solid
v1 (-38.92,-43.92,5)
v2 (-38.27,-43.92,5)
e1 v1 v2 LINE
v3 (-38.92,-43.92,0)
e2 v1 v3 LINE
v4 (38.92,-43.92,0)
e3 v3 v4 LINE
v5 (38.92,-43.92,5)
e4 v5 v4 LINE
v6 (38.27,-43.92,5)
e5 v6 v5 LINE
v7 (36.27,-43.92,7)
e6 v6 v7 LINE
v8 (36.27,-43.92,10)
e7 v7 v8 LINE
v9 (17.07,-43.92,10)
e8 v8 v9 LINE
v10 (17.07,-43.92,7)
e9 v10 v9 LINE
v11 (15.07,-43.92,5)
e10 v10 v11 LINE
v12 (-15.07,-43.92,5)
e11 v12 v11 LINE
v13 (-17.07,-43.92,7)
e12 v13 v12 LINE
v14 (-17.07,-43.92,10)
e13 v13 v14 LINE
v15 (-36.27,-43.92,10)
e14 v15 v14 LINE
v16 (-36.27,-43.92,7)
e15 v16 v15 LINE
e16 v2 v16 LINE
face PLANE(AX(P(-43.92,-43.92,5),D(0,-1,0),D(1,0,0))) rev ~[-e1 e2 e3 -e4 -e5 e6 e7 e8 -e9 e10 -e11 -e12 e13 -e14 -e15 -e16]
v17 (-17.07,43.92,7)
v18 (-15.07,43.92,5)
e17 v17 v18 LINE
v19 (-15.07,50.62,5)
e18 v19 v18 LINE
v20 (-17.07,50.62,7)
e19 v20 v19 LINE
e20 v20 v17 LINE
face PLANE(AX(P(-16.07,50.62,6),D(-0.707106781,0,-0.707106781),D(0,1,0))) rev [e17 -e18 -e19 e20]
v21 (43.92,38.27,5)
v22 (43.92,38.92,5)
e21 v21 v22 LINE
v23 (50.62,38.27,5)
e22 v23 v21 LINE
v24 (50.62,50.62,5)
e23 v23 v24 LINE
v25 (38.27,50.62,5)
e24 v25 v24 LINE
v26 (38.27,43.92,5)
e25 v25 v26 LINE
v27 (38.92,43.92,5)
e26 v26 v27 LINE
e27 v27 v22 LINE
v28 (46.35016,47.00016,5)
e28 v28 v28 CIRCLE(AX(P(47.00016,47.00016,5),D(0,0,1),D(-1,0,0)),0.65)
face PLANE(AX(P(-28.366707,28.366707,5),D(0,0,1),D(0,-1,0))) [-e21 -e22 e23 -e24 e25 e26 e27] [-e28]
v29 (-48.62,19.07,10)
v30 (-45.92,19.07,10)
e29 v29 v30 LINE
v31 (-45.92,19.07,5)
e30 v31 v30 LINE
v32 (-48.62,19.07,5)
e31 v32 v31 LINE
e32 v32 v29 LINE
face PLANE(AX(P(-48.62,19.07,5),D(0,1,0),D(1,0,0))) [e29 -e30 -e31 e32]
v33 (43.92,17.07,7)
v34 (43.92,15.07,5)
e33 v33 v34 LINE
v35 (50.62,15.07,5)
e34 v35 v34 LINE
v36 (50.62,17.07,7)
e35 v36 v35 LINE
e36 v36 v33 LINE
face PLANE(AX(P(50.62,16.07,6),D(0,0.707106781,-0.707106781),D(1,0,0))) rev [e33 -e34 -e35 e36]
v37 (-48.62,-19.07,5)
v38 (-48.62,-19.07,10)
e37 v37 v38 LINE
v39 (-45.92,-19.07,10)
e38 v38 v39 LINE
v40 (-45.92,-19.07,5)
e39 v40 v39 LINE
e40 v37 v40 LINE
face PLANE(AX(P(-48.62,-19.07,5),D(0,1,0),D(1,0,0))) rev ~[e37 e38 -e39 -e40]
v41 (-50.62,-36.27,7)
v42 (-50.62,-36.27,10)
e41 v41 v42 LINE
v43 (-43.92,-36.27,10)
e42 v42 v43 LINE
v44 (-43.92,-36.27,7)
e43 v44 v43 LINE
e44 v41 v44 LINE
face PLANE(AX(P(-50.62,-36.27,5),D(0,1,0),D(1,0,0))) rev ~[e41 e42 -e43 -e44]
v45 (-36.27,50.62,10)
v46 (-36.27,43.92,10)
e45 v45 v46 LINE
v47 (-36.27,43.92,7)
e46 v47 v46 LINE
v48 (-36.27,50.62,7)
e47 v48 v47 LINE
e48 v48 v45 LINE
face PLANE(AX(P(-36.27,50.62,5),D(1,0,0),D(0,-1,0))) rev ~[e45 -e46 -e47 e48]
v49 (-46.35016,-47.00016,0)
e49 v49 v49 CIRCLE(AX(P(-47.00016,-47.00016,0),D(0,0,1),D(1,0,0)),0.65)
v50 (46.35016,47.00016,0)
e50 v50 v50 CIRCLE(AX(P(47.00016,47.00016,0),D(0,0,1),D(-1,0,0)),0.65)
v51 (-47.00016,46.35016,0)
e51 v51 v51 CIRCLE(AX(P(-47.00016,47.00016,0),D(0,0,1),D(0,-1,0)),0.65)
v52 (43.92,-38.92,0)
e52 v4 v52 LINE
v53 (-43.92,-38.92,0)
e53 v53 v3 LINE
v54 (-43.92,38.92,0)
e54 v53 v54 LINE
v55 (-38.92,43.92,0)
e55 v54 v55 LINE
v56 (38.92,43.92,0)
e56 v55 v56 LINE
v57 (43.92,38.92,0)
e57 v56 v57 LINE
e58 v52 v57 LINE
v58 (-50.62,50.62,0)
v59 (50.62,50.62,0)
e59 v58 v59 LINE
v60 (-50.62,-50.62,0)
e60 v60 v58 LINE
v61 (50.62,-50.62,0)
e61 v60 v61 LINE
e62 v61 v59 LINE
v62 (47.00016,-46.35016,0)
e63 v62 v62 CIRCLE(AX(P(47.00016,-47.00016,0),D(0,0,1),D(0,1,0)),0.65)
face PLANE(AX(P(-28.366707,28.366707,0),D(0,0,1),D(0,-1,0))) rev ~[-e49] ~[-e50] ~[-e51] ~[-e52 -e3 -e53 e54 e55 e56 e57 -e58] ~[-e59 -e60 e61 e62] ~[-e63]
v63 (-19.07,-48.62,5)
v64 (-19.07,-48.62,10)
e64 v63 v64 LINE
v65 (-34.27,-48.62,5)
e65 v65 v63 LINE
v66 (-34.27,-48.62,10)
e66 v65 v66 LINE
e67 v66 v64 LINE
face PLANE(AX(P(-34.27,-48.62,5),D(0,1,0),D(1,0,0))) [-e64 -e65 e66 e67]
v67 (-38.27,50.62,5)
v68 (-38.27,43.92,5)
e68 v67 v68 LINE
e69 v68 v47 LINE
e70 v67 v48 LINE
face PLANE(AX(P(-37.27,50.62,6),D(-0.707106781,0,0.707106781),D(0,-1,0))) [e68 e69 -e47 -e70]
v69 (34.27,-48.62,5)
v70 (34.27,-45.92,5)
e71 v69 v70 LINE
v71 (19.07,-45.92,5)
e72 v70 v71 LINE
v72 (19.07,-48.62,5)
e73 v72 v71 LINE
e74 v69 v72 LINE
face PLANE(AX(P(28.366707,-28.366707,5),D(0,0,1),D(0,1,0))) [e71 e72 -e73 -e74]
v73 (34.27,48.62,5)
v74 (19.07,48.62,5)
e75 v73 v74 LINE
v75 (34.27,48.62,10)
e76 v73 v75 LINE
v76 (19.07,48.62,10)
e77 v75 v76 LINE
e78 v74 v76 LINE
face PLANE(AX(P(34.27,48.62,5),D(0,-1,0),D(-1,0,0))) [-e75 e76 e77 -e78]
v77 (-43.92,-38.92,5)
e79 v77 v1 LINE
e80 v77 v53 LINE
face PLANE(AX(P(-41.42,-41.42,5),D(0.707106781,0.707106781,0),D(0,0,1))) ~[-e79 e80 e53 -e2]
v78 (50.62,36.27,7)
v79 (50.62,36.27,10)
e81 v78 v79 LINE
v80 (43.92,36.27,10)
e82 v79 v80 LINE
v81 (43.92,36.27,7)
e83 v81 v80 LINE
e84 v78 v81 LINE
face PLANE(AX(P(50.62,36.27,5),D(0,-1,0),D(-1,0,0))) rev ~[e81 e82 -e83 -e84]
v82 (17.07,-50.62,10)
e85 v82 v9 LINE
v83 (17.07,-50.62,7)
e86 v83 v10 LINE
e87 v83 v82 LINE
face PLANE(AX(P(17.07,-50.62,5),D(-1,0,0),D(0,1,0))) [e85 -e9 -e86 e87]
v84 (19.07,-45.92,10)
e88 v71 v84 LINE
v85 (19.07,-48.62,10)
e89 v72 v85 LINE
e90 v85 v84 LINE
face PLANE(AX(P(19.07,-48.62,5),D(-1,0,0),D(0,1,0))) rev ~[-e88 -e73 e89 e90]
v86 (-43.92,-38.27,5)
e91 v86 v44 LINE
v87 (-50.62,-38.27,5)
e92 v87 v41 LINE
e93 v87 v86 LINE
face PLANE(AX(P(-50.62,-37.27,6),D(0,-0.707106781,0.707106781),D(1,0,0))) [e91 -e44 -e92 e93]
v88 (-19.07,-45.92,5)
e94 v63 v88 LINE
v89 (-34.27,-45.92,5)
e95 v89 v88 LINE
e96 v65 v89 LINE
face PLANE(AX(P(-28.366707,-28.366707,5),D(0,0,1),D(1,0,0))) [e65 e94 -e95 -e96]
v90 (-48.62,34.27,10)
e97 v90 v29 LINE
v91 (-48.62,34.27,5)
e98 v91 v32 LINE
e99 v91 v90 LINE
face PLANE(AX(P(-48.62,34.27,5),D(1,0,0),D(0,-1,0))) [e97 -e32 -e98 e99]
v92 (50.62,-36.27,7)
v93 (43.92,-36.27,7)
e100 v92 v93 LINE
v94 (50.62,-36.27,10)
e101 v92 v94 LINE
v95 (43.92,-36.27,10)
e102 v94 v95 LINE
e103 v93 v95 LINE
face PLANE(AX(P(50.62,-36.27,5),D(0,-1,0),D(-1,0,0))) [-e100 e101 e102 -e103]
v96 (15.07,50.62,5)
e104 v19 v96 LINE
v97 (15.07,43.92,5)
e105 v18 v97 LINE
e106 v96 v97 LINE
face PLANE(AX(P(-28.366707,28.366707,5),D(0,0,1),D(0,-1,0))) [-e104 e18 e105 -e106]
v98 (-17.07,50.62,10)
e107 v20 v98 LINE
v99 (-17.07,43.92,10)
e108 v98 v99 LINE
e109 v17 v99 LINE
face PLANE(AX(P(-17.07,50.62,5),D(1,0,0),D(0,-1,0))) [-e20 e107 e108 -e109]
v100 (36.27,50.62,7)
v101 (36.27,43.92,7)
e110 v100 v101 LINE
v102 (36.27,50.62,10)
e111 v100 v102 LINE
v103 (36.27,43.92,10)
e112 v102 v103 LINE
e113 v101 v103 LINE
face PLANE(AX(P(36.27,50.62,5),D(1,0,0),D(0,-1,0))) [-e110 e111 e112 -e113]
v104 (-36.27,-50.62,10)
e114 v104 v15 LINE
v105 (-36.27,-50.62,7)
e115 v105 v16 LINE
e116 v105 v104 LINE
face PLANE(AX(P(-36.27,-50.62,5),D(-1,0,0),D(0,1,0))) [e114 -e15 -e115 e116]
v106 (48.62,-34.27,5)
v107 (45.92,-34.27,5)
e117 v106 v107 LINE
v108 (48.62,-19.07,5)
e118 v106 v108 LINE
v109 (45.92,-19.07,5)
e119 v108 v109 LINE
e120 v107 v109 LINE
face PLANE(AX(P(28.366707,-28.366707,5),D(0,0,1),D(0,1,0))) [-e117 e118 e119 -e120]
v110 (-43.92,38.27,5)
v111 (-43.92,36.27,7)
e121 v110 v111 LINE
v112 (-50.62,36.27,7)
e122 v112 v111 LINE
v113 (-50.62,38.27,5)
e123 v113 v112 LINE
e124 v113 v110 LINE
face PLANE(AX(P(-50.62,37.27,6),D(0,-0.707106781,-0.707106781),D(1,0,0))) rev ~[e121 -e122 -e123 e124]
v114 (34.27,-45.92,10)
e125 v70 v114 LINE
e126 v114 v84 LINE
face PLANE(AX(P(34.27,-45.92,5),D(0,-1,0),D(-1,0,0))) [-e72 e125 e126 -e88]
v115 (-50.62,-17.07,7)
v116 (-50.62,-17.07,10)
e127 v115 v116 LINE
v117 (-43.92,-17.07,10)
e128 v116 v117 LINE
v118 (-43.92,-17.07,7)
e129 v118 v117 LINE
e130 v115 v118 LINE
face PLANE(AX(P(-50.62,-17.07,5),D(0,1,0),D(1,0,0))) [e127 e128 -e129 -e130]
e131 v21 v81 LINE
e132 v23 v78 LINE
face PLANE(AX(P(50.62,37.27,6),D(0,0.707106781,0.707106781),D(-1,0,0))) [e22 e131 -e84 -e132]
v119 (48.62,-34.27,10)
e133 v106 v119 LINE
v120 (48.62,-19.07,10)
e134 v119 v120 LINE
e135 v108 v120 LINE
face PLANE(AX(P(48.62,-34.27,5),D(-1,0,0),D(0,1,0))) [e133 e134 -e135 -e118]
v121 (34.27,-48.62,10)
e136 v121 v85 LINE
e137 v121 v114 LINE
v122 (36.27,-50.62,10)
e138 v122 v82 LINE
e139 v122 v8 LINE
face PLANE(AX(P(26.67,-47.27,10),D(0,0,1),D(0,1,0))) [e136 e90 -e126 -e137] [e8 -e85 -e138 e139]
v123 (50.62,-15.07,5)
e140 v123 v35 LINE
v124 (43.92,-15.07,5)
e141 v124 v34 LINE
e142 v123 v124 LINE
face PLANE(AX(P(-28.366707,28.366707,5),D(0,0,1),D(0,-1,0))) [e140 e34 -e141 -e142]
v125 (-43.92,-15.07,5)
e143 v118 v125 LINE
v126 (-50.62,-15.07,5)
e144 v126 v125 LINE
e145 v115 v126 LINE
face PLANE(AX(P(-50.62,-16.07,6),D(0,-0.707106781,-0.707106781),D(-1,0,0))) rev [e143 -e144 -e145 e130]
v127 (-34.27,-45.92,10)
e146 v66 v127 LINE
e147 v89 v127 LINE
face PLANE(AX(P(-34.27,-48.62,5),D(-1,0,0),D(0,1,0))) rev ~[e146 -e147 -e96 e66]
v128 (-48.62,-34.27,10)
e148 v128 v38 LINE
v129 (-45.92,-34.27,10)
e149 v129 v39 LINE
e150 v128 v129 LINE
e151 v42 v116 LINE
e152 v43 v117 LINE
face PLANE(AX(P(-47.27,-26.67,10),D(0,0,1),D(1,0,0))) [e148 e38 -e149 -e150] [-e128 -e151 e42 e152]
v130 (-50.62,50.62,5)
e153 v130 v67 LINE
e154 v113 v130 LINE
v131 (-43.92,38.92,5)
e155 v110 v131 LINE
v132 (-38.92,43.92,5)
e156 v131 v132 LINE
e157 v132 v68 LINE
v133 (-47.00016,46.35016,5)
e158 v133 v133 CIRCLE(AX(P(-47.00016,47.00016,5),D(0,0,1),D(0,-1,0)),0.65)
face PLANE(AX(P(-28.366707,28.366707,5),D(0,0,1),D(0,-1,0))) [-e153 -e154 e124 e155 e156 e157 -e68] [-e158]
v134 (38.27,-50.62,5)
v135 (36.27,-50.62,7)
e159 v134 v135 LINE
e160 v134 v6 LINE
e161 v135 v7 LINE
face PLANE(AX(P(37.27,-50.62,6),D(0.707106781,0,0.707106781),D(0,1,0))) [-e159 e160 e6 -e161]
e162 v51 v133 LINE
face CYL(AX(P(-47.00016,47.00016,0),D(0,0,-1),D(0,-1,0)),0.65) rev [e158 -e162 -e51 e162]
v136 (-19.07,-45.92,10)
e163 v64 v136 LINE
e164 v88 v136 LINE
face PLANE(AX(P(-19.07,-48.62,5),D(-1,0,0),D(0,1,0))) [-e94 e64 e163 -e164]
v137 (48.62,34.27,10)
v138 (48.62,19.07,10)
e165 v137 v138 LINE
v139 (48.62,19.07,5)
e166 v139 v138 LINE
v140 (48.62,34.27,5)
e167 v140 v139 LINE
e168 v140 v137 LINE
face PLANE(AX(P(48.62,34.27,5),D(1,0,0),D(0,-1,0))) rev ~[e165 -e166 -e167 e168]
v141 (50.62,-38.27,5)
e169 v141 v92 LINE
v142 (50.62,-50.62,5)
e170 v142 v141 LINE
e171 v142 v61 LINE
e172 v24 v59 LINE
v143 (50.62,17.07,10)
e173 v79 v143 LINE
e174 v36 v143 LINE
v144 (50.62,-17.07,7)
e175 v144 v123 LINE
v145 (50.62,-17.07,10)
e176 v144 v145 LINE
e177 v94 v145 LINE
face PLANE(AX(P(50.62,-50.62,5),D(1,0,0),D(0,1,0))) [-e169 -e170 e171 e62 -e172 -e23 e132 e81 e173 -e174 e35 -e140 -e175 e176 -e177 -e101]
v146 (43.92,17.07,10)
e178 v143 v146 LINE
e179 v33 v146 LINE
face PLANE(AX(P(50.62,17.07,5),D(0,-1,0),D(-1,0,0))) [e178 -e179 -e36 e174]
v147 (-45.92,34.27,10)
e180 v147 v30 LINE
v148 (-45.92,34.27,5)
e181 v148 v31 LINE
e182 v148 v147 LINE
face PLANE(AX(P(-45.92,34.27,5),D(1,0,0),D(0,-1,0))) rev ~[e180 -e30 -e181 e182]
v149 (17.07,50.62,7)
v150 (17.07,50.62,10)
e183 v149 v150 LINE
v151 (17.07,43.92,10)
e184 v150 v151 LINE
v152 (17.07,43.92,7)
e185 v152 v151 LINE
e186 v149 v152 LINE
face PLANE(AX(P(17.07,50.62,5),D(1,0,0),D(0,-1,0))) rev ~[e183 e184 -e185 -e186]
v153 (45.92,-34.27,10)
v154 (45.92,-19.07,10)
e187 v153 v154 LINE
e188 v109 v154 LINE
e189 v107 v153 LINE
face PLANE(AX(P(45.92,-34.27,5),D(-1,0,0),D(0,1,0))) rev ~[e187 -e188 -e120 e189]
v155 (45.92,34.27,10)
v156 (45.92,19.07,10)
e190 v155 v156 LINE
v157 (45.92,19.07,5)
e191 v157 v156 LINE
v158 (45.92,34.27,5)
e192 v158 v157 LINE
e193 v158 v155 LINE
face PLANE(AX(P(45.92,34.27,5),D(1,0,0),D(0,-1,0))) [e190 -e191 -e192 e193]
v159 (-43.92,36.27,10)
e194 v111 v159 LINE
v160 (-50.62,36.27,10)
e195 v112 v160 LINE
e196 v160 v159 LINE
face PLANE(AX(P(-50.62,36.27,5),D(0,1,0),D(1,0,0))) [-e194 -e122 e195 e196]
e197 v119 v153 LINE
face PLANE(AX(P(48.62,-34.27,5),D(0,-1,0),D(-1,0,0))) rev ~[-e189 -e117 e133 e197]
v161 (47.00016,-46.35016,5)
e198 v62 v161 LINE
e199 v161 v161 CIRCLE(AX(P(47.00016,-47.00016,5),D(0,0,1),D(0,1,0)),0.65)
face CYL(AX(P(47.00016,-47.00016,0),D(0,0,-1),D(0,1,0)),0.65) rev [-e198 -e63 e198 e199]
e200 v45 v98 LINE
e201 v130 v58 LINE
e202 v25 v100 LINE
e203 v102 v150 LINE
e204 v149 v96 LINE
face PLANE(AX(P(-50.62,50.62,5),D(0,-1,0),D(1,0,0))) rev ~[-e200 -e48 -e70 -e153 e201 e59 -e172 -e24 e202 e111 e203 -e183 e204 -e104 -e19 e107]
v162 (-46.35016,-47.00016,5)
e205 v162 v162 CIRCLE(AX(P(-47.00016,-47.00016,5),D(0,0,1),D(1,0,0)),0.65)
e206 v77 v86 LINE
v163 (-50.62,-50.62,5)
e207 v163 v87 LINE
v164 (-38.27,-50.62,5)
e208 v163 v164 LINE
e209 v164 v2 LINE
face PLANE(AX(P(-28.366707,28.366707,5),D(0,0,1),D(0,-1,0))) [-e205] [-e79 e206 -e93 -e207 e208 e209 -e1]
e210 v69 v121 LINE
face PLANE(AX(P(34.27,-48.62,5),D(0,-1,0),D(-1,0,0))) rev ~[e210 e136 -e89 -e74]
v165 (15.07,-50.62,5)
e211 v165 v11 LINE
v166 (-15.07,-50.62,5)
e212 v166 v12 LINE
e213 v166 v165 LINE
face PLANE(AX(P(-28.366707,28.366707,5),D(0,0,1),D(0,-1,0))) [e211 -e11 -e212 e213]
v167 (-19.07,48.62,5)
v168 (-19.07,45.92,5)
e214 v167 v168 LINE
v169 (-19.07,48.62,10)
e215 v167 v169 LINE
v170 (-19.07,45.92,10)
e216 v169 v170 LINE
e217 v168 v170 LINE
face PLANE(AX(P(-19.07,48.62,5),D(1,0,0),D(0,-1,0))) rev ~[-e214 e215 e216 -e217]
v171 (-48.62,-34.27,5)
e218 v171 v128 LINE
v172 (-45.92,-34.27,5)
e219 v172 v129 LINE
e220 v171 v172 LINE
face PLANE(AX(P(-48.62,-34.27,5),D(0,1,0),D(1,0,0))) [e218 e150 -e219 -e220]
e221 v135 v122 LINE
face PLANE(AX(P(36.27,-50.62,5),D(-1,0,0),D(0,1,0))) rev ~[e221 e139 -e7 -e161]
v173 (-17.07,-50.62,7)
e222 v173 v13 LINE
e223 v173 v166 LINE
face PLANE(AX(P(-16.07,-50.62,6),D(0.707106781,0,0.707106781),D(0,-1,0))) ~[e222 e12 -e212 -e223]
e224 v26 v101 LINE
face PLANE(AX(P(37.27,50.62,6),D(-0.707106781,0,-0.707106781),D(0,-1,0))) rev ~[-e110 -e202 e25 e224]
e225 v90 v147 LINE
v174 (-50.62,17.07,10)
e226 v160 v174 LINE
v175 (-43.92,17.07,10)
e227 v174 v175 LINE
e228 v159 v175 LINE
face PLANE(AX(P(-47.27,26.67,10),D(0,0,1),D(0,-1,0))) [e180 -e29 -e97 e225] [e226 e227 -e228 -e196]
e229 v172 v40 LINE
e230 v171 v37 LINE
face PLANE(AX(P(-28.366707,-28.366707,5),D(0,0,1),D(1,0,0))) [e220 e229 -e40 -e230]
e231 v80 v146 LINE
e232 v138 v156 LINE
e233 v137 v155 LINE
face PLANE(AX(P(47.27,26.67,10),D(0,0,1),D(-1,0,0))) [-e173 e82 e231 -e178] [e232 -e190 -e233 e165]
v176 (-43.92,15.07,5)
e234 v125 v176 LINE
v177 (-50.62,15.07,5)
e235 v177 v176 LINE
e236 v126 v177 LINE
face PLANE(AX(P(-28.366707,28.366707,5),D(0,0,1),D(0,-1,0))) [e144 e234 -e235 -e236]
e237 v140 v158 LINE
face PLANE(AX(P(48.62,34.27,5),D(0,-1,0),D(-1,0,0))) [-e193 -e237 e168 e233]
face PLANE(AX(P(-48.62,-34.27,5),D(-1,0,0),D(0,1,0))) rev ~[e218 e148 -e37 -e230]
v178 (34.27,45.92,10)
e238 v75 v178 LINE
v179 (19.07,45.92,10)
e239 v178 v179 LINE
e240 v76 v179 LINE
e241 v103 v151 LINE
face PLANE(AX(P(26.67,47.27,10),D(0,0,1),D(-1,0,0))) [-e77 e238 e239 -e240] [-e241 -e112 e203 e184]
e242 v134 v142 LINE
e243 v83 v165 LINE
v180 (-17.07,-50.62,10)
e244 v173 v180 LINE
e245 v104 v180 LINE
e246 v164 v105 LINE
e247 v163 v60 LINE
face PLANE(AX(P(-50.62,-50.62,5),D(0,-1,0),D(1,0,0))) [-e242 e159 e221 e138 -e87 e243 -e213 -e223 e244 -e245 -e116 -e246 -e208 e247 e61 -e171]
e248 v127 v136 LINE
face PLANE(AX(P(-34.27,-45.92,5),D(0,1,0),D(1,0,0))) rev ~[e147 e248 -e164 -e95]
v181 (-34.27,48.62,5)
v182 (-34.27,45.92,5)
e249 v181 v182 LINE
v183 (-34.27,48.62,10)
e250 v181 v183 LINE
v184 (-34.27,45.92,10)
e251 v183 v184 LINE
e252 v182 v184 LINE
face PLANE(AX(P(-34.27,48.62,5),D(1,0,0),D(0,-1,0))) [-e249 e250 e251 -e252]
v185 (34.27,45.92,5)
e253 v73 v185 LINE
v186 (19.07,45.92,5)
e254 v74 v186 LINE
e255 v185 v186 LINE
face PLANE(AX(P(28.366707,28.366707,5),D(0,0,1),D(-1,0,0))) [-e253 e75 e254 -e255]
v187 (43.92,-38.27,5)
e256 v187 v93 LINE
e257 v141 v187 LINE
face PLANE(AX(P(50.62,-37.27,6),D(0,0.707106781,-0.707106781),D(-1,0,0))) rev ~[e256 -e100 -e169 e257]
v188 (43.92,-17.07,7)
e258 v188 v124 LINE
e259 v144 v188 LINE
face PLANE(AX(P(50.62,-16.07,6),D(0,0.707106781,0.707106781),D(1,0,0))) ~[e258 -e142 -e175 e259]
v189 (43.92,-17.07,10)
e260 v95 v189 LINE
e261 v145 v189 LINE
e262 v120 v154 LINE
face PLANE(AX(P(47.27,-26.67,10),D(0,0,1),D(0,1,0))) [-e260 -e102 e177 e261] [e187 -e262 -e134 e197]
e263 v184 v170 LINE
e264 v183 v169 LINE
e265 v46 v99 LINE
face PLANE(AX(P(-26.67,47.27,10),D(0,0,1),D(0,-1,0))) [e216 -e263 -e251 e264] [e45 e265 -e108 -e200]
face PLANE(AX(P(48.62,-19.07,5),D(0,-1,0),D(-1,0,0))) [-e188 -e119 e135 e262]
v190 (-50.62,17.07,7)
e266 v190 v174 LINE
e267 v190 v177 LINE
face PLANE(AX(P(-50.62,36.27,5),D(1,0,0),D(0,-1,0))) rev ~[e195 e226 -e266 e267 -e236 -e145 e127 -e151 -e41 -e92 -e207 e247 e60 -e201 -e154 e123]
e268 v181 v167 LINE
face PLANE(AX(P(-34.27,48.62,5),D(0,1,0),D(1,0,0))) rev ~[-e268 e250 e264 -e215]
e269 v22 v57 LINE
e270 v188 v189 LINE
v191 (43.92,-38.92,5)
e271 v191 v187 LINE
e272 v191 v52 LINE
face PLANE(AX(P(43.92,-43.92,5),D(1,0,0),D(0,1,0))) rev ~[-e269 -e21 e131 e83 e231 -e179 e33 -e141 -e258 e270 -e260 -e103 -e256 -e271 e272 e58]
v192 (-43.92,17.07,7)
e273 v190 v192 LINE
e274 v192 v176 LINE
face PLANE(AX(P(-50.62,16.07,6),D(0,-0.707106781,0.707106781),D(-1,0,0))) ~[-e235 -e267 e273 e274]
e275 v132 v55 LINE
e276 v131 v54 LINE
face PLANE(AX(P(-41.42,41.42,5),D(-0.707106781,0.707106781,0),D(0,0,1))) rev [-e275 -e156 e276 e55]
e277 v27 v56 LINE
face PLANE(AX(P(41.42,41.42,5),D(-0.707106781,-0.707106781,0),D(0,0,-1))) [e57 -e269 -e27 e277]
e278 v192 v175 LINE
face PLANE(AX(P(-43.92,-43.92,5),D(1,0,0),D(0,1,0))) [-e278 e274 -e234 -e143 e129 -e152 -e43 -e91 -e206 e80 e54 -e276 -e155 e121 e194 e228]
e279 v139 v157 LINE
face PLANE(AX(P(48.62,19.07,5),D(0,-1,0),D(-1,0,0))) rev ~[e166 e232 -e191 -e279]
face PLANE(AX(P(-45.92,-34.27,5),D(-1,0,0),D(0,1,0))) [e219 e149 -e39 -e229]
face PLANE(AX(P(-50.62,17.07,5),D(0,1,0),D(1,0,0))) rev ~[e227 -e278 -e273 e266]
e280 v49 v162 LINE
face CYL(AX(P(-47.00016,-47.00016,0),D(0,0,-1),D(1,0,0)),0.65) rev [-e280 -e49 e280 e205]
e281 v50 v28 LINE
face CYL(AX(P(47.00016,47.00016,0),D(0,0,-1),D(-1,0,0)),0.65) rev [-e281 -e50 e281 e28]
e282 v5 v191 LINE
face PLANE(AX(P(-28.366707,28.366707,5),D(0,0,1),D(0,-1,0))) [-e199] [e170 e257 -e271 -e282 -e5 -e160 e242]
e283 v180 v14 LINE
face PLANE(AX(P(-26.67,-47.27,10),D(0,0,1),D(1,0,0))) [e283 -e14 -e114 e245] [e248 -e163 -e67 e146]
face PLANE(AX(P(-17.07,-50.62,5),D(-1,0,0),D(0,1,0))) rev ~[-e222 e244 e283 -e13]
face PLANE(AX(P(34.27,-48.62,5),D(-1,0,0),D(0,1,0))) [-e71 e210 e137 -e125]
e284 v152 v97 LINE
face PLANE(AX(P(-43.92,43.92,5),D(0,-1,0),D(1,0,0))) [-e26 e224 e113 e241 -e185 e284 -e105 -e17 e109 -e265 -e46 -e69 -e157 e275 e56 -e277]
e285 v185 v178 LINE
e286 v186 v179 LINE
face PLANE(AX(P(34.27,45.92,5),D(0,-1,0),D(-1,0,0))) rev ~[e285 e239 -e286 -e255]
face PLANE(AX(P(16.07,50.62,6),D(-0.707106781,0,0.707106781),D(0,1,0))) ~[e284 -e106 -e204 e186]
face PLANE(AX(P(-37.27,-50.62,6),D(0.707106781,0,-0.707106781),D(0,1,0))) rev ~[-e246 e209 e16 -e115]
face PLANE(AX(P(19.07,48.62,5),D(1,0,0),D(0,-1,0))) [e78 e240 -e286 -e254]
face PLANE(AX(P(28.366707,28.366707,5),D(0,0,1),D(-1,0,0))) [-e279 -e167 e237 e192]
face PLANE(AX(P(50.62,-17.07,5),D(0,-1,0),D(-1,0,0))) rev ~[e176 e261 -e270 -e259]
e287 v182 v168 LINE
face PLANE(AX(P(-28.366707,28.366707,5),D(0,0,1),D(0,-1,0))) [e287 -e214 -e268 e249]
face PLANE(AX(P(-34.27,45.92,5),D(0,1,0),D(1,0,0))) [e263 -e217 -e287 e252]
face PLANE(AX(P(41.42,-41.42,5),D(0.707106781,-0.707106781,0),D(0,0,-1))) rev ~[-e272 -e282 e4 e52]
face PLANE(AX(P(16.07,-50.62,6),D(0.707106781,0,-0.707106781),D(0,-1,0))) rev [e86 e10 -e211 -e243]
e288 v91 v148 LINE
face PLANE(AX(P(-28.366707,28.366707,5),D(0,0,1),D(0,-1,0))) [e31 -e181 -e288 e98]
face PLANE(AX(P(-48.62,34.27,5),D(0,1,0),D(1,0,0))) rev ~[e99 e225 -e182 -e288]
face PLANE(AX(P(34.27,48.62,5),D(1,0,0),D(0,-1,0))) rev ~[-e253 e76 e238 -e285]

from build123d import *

# Parameters (mm, degrees)
SKETCH_R           = 0.65
PAD_DEPTH          = 5
SKETCH001_W        = 19.2
SKETCH001_H        = 6.7
SKETCH001_W_2      = 15.2
SKETCH001_H_2      = 2.7
SKETCH001_W_3      = 6.7
SKETCH001_H_3      = 19.2
SKETCH001_W_4      = 2.7
SKETCH001_H_4      = 15.2
PAD001_DEPTH       = 5
POLARPATTERN_COUNT = 4
SKETCH002_W        = 87.84
SKETCH002_H        = 87.84
POCKET_DEPTH       = 5
SKETCH003_W        = 186.050454
SKETCH003_H        = 194.116951
SKETCH003_W_2      = 101.24
SKETCH003_H_2      = 101.24
POCKET001_DEPTH    = 5
CHAMFER_SIZE       = 5
CHAMFER001_SIZE    = 2


with BuildPart() as part:
    # Sketch → Pad (new body)
    with BuildSketch(Plane.XY):
        Polygon((-52.00016, -52.00016), (0, -52.00016), (0, -42.00016), (-34.929092, -42.00016), (0, -7.071068), (0, 0), (-7.071068, 0), (-42.00016, -34.929092), (-42.00016, 0), (-52.00016, 0), align=None)
        with Locations((-47.00016, -47.00016)):
            Circle(SKETCH_R, mode=Mode.SUBTRACT)
        with Locations((-26.67, -26.67)):
            Circle(SKETCH_R, mode=Mode.SUBTRACT)
    pad = extrude(amount=PAD_DEPTH)

    # Sketch001 (on Face14 of Pad) → Pad001 (join)
    with BuildSketch(Plane.XY.offset(5)):
        with Locations((-26.67, -47.27)):
            Rectangle(SKETCH001_W, SKETCH001_H)
        with Locations((-26.67, -47.27)):
            Rectangle(SKETCH001_W_2, SKETCH001_H_2, mode=Mode.SUBTRACT)
        with Locations((-47.27, -26.67)):
            Rectangle(SKETCH001_W_3, SKETCH001_H_3)
        with Locations((-47.27, -26.67)):
            Rectangle(SKETCH001_W_4, SKETCH001_H_4, mode=Mode.SUBTRACT)
    pad001 = extrude(amount=PAD001_DEPTH)

    # PolarPattern: Pad, Pad001 ×4 about axis
    polarpattern_axis = Axis((0, 0, 0), (0, 0, 1))
    for i in range(1, POLARPATTERN_COUNT):
        add(pad.rotate(polarpattern_axis, i * 360 / POLARPATTERN_COUNT))
        add(pad001.rotate(polarpattern_axis, i * 360 / POLARPATTERN_COUNT))

    # Sketch002 (on Face20 of PolarPattern) → Pocket (cut)
    with BuildSketch(Plane.XY.offset(5)):
        Rectangle(SKETCH002_W, SKETCH002_H)
    extrude(amount=-POCKET_DEPTH, mode=Mode.SUBTRACT)

    # Sketch003 (on Face5 of Pocket) → Pocket001 (cut)
    with BuildSketch(Plane.XY.offset(5)):
        with Locations((-8.059452, 19.223796)):
            Rectangle(SKETCH003_W, SKETCH003_H)
        Rectangle(SKETCH003_W_2, SKETCH003_H_2, mode=Mode.SUBTRACT)
    extrude(amount=-POCKET001_DEPTH, mode=Mode.SUBTRACT)

    # Chamfer
    chamfer_edges = [part.edges().sort_by_distance(p)[0] for p in [
        (43.92, 43.92, 2.5),
        (43.92, -43.92, 2.5),
        (-43.92, -43.92, 2.5),
        (-43.92, 43.92, 2.5),
    ]]
    chamfer(chamfer_edges, length=CHAMFER_SIZE)

    # Chamfer001
    chamfer001_edges = [part.edges().sort_by_distance(p)[0] for p in [
        (17.07, 47.27, 5),
        (-36.27, 47.27, 5),
        (-47.27, 17.07, 5),
        (-47.27, -36.27, 5),
        (-36.27, -47.27, 5),
        (17.07, -47.27, 5),
        (47.27, -36.27, 5),
        (47.27, 17.07, 5),
        (36.27, 47.27, 5),
        (-17.07, 47.27, 5),
        (-47.27, 36.27, 5),
        (-47.27, -17.07, 5),
        (-17.07, -47.27, 5),
        (36.27, -47.27, 5),
        (47.27, -17.07, 5),
        (47.27, 36.27, 5),
    ]]
    chamfer(chamfer001_edges, length=CHAMFER001_SIZE)


solid = part.part
